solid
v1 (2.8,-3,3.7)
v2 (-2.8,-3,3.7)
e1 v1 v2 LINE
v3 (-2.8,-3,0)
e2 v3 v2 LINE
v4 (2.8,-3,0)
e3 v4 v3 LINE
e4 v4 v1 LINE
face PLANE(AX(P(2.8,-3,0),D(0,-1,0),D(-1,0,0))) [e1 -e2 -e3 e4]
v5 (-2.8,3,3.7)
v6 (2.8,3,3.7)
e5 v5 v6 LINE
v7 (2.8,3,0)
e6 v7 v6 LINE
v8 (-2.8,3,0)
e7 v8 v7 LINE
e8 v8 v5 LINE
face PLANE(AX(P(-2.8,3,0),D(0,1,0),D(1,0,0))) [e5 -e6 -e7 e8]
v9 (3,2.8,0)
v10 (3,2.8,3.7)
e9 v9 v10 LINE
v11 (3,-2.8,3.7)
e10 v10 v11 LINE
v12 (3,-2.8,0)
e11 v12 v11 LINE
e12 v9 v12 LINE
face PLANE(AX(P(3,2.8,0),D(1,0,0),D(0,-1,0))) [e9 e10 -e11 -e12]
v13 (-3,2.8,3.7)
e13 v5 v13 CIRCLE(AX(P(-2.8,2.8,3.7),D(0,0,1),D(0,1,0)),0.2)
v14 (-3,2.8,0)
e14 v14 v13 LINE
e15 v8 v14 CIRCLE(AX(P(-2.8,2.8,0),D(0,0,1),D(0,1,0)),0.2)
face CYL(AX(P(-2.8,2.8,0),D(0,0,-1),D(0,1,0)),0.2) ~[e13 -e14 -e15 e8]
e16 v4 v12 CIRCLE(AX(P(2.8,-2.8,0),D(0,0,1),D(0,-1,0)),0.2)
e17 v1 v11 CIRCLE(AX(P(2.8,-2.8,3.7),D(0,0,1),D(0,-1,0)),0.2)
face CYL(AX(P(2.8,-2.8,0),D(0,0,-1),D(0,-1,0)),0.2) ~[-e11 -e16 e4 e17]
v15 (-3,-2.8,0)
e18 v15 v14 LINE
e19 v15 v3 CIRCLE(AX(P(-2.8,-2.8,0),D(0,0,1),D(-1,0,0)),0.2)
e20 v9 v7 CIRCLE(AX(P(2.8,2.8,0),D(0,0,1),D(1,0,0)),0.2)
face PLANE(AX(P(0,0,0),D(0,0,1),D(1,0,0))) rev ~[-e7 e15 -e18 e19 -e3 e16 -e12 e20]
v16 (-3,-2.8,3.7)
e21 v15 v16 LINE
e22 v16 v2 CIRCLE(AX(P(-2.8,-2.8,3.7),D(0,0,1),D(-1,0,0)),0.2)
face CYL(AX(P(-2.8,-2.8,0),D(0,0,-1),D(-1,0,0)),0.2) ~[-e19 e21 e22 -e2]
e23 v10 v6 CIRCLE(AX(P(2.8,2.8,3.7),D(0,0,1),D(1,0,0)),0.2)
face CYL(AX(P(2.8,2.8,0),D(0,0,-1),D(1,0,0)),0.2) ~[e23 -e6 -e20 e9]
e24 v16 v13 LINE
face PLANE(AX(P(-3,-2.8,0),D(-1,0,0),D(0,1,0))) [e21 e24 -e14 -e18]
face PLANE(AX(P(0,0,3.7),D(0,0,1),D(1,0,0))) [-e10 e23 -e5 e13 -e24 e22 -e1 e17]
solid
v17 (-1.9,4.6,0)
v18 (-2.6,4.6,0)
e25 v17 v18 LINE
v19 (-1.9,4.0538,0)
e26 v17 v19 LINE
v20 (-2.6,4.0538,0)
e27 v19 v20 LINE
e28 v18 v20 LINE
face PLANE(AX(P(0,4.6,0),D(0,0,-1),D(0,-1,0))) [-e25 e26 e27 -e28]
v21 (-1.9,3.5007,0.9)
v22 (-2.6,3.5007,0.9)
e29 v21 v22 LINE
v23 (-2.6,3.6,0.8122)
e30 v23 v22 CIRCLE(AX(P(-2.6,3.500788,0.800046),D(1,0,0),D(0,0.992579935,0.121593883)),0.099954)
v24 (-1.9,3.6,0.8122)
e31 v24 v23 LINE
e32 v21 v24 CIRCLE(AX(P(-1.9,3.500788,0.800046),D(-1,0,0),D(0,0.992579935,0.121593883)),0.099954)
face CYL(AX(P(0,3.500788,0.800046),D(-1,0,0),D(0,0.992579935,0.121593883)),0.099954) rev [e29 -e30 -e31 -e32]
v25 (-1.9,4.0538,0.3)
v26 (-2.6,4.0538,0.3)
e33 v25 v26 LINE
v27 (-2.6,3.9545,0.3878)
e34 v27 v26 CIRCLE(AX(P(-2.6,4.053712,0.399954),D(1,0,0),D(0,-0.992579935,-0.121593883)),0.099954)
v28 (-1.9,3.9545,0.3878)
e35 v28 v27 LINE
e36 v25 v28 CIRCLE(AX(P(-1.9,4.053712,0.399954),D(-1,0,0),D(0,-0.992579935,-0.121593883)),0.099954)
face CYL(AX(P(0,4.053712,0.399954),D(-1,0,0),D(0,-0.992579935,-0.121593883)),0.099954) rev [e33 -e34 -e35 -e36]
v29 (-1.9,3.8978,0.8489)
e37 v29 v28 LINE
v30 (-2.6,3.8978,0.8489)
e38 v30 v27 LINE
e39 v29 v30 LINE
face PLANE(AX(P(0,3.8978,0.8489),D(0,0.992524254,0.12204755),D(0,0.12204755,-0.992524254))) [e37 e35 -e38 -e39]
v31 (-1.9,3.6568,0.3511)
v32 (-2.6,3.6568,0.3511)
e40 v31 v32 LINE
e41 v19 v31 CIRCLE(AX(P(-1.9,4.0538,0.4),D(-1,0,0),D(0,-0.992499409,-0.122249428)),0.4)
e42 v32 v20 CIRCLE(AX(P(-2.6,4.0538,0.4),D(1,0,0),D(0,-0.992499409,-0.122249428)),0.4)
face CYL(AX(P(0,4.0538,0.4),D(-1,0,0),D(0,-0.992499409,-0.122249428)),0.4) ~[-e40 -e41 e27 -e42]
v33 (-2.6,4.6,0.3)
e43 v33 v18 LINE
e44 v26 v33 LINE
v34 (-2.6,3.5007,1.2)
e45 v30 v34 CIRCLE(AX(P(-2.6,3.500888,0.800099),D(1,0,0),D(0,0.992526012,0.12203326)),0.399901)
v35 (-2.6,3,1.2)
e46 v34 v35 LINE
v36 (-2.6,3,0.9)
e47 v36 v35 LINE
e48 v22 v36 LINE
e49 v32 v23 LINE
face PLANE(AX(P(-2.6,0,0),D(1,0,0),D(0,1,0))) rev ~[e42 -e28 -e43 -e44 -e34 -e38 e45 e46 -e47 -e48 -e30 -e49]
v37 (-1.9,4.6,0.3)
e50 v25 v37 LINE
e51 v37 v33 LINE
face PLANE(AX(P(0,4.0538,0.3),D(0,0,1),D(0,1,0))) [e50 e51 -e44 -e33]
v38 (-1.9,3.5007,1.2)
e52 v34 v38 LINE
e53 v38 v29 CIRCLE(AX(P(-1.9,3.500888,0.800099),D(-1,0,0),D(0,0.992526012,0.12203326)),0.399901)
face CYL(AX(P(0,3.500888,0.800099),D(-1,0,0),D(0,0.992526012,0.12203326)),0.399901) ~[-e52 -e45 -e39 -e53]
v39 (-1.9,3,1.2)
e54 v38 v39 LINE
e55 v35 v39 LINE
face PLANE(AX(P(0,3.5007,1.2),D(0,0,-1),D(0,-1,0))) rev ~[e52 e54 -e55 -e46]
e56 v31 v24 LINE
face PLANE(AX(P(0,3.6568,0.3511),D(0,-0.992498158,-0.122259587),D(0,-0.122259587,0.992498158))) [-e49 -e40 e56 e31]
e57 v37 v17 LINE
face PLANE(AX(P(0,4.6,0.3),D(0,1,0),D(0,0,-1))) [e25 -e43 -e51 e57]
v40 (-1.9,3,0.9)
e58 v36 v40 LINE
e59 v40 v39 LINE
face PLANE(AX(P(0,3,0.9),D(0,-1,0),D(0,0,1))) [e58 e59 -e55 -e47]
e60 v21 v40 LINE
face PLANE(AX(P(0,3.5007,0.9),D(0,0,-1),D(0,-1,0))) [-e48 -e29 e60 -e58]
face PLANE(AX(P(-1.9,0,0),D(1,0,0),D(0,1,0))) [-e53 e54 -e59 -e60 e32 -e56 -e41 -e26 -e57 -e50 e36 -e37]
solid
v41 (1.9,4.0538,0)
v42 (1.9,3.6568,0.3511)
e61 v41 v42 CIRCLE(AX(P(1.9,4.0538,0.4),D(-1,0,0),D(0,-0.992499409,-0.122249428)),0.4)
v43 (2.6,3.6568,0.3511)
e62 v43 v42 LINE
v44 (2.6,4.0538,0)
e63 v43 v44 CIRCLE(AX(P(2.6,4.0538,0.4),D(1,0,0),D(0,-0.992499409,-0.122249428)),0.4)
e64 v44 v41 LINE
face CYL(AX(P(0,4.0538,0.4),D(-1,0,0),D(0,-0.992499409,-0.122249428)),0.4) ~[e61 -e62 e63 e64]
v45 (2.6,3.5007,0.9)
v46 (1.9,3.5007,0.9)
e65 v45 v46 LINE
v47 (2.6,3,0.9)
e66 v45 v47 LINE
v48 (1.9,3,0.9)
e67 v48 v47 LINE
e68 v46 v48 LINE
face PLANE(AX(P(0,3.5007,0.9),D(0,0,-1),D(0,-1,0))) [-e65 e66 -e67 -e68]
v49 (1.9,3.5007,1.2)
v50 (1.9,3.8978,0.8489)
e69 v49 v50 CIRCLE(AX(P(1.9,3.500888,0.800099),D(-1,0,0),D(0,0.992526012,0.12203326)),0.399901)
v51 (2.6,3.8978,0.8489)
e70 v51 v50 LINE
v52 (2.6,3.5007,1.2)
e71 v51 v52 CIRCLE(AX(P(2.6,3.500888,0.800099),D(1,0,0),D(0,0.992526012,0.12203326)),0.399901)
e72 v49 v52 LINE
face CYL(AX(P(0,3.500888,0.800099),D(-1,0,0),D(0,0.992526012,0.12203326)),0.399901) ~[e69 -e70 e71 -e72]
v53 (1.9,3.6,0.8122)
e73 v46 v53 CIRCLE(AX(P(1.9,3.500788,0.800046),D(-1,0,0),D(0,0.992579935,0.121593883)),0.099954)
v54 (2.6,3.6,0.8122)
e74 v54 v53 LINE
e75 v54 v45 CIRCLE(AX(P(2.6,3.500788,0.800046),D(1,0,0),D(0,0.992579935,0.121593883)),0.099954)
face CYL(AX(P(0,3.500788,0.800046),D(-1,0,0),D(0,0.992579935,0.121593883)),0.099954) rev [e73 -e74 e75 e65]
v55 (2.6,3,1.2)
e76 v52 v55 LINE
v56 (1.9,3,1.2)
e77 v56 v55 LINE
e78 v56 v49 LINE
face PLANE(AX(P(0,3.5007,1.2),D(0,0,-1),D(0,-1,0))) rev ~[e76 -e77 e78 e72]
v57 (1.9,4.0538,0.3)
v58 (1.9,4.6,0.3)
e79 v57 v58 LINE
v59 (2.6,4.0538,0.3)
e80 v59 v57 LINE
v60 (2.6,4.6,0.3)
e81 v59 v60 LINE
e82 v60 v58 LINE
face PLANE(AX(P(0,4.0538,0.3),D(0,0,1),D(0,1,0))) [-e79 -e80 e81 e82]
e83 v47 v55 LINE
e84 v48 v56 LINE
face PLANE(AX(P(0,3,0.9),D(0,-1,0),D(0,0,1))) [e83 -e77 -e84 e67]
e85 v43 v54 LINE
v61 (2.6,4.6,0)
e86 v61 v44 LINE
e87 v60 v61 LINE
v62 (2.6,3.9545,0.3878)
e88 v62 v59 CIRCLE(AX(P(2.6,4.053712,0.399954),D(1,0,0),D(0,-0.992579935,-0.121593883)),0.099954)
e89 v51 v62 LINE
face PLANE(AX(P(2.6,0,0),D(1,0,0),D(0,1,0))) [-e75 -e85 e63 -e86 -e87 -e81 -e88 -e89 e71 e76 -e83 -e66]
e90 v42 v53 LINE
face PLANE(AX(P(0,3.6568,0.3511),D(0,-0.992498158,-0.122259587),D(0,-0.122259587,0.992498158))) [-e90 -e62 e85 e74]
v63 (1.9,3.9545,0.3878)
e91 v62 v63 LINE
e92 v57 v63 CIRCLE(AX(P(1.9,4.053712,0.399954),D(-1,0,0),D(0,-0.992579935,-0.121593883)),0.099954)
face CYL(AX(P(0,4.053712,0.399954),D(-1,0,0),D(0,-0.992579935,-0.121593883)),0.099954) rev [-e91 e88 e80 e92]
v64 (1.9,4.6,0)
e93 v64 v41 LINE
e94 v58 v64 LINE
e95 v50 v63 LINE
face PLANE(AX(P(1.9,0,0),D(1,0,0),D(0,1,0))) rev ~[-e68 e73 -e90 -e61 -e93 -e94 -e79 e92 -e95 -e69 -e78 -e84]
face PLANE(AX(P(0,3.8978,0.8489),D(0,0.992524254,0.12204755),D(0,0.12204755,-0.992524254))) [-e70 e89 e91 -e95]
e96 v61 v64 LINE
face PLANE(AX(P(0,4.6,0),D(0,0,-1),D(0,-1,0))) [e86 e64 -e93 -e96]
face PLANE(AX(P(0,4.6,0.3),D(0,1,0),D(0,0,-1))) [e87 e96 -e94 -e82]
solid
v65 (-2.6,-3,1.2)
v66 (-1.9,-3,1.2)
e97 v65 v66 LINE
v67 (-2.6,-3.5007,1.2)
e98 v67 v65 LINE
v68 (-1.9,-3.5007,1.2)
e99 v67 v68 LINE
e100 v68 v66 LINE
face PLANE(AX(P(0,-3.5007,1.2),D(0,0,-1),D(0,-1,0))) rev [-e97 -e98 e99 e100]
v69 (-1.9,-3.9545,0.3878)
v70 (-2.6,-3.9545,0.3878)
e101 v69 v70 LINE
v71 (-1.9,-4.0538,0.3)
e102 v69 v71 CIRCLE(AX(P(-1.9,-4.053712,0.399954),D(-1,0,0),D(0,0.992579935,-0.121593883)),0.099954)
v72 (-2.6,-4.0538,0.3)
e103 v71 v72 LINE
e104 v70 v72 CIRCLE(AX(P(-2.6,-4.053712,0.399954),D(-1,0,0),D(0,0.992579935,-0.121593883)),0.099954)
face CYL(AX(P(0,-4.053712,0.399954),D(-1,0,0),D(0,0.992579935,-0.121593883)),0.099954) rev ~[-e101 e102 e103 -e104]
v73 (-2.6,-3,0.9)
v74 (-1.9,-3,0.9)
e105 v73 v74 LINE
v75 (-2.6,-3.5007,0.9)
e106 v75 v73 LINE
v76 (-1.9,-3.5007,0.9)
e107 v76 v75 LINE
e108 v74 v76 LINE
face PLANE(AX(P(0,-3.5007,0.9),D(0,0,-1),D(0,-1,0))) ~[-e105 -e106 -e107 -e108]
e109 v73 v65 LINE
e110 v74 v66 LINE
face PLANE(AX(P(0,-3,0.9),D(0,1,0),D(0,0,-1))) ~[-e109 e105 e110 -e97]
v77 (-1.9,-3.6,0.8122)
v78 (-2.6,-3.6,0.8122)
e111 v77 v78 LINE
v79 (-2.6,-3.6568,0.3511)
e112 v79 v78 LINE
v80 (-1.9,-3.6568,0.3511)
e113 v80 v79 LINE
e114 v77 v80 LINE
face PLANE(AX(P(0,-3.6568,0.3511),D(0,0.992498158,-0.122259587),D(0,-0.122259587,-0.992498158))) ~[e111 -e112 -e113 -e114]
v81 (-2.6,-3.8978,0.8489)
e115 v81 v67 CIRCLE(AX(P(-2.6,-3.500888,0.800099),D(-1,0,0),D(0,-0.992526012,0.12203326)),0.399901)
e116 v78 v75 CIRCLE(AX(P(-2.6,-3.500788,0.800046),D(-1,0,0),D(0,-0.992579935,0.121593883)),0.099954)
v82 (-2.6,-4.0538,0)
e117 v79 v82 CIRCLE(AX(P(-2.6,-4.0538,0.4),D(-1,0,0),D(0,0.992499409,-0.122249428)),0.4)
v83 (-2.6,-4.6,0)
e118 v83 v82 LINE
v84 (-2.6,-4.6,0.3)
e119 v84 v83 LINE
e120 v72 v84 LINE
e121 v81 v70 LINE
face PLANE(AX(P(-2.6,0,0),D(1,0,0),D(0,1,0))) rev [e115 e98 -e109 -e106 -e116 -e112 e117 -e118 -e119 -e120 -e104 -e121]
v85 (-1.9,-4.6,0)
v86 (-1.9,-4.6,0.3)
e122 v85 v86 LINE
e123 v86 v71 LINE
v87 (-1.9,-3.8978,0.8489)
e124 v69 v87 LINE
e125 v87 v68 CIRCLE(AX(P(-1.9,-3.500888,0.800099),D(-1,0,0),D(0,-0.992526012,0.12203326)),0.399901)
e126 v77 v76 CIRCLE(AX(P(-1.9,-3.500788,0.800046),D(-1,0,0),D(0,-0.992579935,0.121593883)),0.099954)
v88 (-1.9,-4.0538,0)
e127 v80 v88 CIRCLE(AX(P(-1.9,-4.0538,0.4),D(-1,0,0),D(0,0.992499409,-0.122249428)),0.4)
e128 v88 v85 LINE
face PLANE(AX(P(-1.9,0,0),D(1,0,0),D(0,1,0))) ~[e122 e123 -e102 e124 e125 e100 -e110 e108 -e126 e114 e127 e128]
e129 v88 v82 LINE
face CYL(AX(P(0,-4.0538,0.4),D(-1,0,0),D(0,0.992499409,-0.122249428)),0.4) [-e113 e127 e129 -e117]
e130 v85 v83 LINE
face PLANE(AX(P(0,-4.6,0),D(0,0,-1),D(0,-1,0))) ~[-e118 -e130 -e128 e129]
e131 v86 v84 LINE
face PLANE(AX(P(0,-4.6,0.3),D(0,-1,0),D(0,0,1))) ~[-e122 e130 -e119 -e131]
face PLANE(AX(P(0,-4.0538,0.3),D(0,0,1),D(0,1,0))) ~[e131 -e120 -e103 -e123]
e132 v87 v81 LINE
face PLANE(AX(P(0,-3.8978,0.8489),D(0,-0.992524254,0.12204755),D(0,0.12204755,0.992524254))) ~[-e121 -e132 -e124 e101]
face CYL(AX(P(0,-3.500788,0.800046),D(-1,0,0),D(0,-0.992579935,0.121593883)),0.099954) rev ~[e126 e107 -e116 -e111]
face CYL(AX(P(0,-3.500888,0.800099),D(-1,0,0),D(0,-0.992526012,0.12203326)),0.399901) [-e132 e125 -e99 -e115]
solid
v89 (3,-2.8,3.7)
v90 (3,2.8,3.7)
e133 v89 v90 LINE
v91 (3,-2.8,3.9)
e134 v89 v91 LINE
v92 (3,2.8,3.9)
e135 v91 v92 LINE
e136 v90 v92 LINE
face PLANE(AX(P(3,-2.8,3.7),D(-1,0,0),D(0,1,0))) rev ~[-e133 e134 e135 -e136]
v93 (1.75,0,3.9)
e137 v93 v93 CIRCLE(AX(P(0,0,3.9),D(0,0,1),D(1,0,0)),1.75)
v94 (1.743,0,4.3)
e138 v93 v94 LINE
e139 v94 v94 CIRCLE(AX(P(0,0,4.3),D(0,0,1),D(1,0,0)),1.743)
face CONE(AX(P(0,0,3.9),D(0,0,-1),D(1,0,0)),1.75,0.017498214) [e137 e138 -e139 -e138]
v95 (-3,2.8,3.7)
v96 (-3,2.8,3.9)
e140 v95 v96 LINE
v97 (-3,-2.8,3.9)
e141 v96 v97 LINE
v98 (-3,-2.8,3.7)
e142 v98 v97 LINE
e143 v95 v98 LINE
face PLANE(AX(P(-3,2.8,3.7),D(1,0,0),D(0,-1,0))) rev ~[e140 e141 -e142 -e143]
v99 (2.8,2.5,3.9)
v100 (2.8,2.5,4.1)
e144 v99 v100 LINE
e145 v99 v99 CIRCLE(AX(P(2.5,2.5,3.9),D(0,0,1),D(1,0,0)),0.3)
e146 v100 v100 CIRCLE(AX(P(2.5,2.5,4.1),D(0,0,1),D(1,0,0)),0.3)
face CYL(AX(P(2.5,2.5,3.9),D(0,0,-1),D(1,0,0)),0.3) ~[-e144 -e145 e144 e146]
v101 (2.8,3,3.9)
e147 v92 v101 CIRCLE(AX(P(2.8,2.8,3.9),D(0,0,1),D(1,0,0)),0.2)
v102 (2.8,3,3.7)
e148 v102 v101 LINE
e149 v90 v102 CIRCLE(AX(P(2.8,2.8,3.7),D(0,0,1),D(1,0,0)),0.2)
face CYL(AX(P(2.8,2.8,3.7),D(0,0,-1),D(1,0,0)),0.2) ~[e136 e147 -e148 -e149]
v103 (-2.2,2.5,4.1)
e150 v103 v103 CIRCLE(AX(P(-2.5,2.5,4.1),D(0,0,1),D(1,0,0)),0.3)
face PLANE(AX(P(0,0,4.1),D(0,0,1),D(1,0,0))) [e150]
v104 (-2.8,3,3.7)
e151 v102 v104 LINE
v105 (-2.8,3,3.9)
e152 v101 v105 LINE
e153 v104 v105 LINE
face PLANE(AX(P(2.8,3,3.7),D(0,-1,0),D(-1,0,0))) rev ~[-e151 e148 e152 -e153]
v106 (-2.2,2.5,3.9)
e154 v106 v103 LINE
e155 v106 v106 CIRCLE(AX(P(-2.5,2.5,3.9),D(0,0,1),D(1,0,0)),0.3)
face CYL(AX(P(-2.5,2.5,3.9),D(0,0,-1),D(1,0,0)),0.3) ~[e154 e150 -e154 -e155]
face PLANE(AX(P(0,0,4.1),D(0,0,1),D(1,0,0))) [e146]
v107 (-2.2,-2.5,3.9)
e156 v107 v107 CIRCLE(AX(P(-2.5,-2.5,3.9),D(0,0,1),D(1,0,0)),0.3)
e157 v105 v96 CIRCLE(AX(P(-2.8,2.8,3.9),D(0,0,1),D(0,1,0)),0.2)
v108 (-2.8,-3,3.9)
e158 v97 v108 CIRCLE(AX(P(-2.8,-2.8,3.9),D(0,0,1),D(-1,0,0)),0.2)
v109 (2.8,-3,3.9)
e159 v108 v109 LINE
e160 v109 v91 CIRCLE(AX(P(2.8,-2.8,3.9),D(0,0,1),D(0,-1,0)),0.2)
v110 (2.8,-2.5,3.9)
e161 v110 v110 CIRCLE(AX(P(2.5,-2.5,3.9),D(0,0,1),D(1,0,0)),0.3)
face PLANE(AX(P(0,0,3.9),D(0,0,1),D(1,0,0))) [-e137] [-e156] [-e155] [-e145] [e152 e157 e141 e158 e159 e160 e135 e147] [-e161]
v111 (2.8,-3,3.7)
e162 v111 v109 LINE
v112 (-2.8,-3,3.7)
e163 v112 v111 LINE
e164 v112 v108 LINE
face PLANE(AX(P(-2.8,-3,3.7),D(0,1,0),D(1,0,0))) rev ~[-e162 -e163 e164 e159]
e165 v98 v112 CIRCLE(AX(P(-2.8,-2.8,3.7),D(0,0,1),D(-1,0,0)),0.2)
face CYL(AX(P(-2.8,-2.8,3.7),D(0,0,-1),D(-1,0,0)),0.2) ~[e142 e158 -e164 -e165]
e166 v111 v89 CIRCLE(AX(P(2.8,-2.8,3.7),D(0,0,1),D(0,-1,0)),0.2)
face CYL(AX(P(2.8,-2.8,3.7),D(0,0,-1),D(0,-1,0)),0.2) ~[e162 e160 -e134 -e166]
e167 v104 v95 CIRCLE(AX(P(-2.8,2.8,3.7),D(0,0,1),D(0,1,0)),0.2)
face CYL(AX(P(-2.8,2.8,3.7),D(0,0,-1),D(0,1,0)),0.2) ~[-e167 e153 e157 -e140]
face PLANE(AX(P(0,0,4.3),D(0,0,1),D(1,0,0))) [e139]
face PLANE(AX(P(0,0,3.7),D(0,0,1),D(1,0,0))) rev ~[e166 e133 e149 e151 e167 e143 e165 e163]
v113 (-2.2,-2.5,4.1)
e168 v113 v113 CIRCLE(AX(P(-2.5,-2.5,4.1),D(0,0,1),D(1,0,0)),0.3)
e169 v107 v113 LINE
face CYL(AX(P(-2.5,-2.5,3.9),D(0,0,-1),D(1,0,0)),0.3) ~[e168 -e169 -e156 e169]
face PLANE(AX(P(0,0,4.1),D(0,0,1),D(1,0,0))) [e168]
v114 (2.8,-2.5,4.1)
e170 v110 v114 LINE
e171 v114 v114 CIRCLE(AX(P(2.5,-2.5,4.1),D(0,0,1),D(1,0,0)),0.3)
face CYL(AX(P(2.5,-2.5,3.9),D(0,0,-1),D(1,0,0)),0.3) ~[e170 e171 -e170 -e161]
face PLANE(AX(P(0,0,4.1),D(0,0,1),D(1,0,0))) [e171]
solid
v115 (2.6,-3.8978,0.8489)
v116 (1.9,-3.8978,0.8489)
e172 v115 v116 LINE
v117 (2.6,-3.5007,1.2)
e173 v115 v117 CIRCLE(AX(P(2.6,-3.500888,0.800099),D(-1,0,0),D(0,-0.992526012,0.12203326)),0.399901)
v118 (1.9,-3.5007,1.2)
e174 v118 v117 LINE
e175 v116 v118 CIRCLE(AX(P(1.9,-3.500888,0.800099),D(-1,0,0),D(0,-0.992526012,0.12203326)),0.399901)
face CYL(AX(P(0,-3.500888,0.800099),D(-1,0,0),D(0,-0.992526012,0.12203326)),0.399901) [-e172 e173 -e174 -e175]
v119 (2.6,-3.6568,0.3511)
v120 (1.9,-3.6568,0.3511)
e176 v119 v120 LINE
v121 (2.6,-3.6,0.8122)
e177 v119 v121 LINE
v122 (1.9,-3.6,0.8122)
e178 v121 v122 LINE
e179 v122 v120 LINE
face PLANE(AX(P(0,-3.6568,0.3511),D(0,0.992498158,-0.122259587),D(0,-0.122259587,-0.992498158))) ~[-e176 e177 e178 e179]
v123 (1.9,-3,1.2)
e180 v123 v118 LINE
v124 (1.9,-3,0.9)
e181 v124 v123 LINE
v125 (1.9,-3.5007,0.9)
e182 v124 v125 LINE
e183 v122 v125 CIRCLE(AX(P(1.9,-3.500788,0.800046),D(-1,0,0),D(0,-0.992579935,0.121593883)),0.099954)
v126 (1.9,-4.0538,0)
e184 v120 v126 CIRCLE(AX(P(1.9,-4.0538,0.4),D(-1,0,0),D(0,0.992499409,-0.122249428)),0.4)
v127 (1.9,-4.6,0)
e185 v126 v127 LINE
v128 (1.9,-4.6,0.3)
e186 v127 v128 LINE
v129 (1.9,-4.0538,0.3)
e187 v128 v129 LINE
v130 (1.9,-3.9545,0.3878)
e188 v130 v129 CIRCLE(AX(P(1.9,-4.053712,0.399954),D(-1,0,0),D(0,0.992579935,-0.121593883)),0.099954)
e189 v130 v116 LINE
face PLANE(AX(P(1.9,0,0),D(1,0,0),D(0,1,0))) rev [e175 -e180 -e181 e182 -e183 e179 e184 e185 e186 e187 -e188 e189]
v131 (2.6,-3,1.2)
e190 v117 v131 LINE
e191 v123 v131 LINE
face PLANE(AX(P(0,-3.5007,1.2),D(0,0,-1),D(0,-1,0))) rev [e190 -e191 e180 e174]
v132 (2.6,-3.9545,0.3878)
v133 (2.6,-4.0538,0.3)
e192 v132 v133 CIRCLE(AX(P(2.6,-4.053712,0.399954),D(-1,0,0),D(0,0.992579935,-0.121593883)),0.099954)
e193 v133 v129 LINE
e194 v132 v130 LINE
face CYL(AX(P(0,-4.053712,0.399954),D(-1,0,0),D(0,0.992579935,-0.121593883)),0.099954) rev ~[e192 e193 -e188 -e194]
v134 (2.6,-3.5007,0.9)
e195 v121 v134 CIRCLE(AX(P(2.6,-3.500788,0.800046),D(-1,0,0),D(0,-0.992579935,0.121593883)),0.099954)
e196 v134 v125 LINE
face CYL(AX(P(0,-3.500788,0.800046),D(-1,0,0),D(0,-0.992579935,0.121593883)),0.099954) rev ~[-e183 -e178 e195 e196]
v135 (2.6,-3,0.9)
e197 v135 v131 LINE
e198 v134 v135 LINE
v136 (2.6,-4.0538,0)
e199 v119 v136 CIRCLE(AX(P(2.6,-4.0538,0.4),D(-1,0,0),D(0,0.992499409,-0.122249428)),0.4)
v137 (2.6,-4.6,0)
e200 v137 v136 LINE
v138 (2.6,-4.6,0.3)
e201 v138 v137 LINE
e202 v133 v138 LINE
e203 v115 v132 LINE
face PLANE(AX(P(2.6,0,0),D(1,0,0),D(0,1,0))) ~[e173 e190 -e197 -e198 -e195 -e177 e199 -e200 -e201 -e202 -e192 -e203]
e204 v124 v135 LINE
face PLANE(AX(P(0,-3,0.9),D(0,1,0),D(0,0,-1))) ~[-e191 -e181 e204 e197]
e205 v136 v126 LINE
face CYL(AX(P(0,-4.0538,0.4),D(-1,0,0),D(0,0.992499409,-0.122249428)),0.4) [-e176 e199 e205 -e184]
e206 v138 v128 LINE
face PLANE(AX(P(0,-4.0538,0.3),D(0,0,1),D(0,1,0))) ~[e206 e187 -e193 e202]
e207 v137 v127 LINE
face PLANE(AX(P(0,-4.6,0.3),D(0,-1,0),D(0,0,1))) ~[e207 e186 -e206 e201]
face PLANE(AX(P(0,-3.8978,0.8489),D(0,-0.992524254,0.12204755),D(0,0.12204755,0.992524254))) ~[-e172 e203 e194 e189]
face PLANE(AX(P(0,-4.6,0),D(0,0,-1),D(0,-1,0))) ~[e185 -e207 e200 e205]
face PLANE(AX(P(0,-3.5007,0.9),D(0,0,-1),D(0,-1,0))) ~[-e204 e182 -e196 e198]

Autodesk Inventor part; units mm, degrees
ref_plane "YZ Plane" through (0, 0, 0) normal (1, 0, 0) x (0, 1, 0)
ref_plane "XZ Plane" through (0, 0, 0) normal (0, 1, 0) x (-1, 0, 0)
ref_plane "XY Plane" through (0, 0, 0) normal (0, 0, 1) x (1, 0, 0)
sketch "Boceto39" plane through (0, 0, 0) normal (0, 0, 1) x (1, 0, 0)
  line L0 (-2.8, 3) -> (2.8, 3)
  line L1 (3, 2.8) -> (3, -2.8)
  line L2 (2.8, -3) -> (-2.8, -3)
  line L3 (-3, -2.8) -> (-3, 2.8)
  arc A0 (3, 2.8) -> (2.8, 3) centre (2.8, 2.8) ccw
  arc A1 (-2.8, 3) -> (-3, 2.8) centre (-2.8, 2.8) ccw
  arc A2 (-3, -2.8) -> (-2.8, -3) centre (-2.8, -2.8) ccw
  arc A3 (2.8, -3) -> (3, -2.8) centre (2.8, -2.8) ccw
  point P0 (0, 0)
  point P1 (-3, 3)
  point P2 (3, -3)
  point P3 (3, 3)
  point P4 (-3, -3)
  point P5 (0, 3)
  point P6 (3, 0)
  dimension "d373" = 6
  dimension "d376" = 0.2
extrude "Extrusión13" add sketch "Boceto39" along normal blind 3.7
sketch "Boceto40" plane through (0, 0, 3.7) normal (0, 0, 1) x (1, 0, 0)
  line L0 (2.8, 3) -> (-2.8, 3) projected
  arc A0 (-2.8, 3) -> (-3, 2.8) centre (-2.8, 2.8) ccw projected
  line L1 (-3, 2.8) -> (-3, -2.8) projected
  arc A1 (-3, -2.8) -> (-2.8, -3) centre (-2.8, -2.8) ccw projected
  line L2 (-2.8, -3) -> (2.8, -3) projected
  arc A2 (2.8, -3) -> (3, -2.8) centre (2.8, -2.8) ccw projected
  line L3 (3, -2.8) -> (3, 2.8) projected
  arc A3 (3, 2.8) -> (2.8, 3) centre (2.8, 2.8) ccw projected
  point P0 (0, 0)
extrude "Extrusión14" add sketch "Boceto40" along normal blind 0.2 separate body
sketch "Boceto43" plane through (0, 0, 0) normal (1, 0, 0) x (0, 1, 0)
  line L0 (0, 0) -> (0, -3.6276) construction
  line L1 (3, 0) -> (3, 3.7) construction
  line L2 (3.5007, 1.2) -> (3, 1.2)
  line L3 (2.8, 3.9) -> (-2.8, 3.9) projected
  line L4 (2.8, 0) -> (-2.8, 0) projected
  line L5 (3.5007, 0.9) -> (3, 0.9)
  line L6 (3, 0.9) -> (3, 1.2)
  arc A0 (3.6, 0.8122) -> (3.5007, 0.9) centre (3.5007, 0.8) ccw
  arc A1 (3.8978, 0.8489) -> (3.5007, 1.2) centre (3.5007, 0.8) ccw
  line L7 (3.8978, 0.8489) -> (3.9545, 0.3878)
  line L8 (4.0538, 0.3) -> (4.6, 0.3)
  line L9 (4.6, 0.3) -> (4.6, 0)
  line L10 (4.6, 0) -> (4.0538, 0)
  line L11 (3.6568, 0.3511) -> (3.6, 0.8122)
  arc A2 (3.9545, 0.3878) -> (4.0538, 0.3) centre (4.0538, 0.4) ccw
  arc A3 (3.6568, 0.3511) -> (4.0538, 0) centre (4.0538, 0.4) ccw
  point P0 (6.55, 1.2)
  point P1 (3.7, 0)
  dimension "d399" = 2.7
  dimension "d426" = 0.3
  dimension "d435" = 0.1
  dimension "d436" = 0.4
  dimension "d437" = 0.3
  dimension "d438" = 0.3
  dimension "d439" = 4.6
  dimension "d440" = 3.6
  dimension "d441" = 0.9
  dimension "d442" = 0.1
  dimension "d443" = 0.4
extrude "Extrusión15" add sketch "Boceto43" along normal mid plane 5.2 separate body
sketch "Boceto45" plane through (0, 0, 0) normal (1, 0, 0) x (0, 1, 0)
  line L0 (3, 1.2) -> (3.5007, 1.2) projected
  line L1 (3, 1.2) -> (5.6614, 1.2)
  line L2 (5.6614, 1.2) -> (5.6614, -2.2134)
  line L3 (5.6614, -2.2134) -> (3, -2.2134)
  line L4 (3, -2.2134) -> (3, 1.2)
  point P0 (0, 0)
  point P1 (3.3, 0.8)
extrude "Extrusión17" cut sketch "Boceto45" along normal mid plane 3.8 bodies 3
mirror "Simetría1" about plane through (0, 0, 0) normal (0, 1, 0) of "Extrusión15", "Extrusión17" bodies 3
sketch "Boceto48" plane through (0, 0, 0) normal (0, 1, 0) x (-1, 0, 0)
  line L0 (0, 0) -> (0, 17.1627)
  line L1 (-2.8, 3.9) -> (2.8, 3.9) construction
  line L2 (0, 3.9) -> (-1.75, 3.9)
  line L3 (-1.75, 3.9) -> (-1.743, 4.3)
  line L4 (-1.743, 4.3) -> (0, 4.3)
  line L5 (0, 4.3) -> (0, 3.9)
  line L6 (-2.8, 0) -> (2.8, 0) projected
  line L7 (-1.75, 3.9) -> (-1.75, 4.5675) construction
  dimension "d422" = 4.3
  dimension "d423" = 3.5
  dimension "d424" = 1
revolve "Revolución14" add sketch "Boceto48" angle 360 about axis through (0, 0, 0) along (0, 0, 1) bodies 2
sketch "Boceto46" plane through (0, 0, 3.9) normal (0, 0, 1) x (1, 0, 0)
  line L0 (-2.5, -2.5) -> (2.5, -2.5) construction
  line L1 (2.5, -2.5) -> (2.5, 2.5) construction
  line L2 (2.5, 2.5) -> (-2.5, 2.5) construction
  line L3 (-2.5, 2.5) -> (-2.5, -2.5) construction
  circle A0 centre (-2.5, -2.5) radius 0.3
  circle A1 centre (-2.5, 2.5) radius 0.3
  circle A2 centre (2.5, 2.5) radius 0.3
  circle A3 centre (2.5, -2.5) radius 0.3
  point P0 (0, 0)
  point P1 (0, -2.5)
  point P2 (-2.5, 0)
  dimension "d417" = 0.6
  dimension "d418" = 5
extrude "Extrusión18" add sketch "Boceto46" along normal blind 0.2 bodies 2
sketch "Boceto49" plane through (0, 0, 0) normal (0, 0, -1) x (-1, 0, 0)
  circle A0 centre (-4.5, 0) radius 0.8
  circle A1 centre (4.5, 0) radius 0.8
  point P0 (0, 0)
  dimension "d444" = 9
  dimension "d445" = 4.5
  dimension "d446" = 1.6
properties part number "TACT-SWITCH-SMD-06X06MM"
